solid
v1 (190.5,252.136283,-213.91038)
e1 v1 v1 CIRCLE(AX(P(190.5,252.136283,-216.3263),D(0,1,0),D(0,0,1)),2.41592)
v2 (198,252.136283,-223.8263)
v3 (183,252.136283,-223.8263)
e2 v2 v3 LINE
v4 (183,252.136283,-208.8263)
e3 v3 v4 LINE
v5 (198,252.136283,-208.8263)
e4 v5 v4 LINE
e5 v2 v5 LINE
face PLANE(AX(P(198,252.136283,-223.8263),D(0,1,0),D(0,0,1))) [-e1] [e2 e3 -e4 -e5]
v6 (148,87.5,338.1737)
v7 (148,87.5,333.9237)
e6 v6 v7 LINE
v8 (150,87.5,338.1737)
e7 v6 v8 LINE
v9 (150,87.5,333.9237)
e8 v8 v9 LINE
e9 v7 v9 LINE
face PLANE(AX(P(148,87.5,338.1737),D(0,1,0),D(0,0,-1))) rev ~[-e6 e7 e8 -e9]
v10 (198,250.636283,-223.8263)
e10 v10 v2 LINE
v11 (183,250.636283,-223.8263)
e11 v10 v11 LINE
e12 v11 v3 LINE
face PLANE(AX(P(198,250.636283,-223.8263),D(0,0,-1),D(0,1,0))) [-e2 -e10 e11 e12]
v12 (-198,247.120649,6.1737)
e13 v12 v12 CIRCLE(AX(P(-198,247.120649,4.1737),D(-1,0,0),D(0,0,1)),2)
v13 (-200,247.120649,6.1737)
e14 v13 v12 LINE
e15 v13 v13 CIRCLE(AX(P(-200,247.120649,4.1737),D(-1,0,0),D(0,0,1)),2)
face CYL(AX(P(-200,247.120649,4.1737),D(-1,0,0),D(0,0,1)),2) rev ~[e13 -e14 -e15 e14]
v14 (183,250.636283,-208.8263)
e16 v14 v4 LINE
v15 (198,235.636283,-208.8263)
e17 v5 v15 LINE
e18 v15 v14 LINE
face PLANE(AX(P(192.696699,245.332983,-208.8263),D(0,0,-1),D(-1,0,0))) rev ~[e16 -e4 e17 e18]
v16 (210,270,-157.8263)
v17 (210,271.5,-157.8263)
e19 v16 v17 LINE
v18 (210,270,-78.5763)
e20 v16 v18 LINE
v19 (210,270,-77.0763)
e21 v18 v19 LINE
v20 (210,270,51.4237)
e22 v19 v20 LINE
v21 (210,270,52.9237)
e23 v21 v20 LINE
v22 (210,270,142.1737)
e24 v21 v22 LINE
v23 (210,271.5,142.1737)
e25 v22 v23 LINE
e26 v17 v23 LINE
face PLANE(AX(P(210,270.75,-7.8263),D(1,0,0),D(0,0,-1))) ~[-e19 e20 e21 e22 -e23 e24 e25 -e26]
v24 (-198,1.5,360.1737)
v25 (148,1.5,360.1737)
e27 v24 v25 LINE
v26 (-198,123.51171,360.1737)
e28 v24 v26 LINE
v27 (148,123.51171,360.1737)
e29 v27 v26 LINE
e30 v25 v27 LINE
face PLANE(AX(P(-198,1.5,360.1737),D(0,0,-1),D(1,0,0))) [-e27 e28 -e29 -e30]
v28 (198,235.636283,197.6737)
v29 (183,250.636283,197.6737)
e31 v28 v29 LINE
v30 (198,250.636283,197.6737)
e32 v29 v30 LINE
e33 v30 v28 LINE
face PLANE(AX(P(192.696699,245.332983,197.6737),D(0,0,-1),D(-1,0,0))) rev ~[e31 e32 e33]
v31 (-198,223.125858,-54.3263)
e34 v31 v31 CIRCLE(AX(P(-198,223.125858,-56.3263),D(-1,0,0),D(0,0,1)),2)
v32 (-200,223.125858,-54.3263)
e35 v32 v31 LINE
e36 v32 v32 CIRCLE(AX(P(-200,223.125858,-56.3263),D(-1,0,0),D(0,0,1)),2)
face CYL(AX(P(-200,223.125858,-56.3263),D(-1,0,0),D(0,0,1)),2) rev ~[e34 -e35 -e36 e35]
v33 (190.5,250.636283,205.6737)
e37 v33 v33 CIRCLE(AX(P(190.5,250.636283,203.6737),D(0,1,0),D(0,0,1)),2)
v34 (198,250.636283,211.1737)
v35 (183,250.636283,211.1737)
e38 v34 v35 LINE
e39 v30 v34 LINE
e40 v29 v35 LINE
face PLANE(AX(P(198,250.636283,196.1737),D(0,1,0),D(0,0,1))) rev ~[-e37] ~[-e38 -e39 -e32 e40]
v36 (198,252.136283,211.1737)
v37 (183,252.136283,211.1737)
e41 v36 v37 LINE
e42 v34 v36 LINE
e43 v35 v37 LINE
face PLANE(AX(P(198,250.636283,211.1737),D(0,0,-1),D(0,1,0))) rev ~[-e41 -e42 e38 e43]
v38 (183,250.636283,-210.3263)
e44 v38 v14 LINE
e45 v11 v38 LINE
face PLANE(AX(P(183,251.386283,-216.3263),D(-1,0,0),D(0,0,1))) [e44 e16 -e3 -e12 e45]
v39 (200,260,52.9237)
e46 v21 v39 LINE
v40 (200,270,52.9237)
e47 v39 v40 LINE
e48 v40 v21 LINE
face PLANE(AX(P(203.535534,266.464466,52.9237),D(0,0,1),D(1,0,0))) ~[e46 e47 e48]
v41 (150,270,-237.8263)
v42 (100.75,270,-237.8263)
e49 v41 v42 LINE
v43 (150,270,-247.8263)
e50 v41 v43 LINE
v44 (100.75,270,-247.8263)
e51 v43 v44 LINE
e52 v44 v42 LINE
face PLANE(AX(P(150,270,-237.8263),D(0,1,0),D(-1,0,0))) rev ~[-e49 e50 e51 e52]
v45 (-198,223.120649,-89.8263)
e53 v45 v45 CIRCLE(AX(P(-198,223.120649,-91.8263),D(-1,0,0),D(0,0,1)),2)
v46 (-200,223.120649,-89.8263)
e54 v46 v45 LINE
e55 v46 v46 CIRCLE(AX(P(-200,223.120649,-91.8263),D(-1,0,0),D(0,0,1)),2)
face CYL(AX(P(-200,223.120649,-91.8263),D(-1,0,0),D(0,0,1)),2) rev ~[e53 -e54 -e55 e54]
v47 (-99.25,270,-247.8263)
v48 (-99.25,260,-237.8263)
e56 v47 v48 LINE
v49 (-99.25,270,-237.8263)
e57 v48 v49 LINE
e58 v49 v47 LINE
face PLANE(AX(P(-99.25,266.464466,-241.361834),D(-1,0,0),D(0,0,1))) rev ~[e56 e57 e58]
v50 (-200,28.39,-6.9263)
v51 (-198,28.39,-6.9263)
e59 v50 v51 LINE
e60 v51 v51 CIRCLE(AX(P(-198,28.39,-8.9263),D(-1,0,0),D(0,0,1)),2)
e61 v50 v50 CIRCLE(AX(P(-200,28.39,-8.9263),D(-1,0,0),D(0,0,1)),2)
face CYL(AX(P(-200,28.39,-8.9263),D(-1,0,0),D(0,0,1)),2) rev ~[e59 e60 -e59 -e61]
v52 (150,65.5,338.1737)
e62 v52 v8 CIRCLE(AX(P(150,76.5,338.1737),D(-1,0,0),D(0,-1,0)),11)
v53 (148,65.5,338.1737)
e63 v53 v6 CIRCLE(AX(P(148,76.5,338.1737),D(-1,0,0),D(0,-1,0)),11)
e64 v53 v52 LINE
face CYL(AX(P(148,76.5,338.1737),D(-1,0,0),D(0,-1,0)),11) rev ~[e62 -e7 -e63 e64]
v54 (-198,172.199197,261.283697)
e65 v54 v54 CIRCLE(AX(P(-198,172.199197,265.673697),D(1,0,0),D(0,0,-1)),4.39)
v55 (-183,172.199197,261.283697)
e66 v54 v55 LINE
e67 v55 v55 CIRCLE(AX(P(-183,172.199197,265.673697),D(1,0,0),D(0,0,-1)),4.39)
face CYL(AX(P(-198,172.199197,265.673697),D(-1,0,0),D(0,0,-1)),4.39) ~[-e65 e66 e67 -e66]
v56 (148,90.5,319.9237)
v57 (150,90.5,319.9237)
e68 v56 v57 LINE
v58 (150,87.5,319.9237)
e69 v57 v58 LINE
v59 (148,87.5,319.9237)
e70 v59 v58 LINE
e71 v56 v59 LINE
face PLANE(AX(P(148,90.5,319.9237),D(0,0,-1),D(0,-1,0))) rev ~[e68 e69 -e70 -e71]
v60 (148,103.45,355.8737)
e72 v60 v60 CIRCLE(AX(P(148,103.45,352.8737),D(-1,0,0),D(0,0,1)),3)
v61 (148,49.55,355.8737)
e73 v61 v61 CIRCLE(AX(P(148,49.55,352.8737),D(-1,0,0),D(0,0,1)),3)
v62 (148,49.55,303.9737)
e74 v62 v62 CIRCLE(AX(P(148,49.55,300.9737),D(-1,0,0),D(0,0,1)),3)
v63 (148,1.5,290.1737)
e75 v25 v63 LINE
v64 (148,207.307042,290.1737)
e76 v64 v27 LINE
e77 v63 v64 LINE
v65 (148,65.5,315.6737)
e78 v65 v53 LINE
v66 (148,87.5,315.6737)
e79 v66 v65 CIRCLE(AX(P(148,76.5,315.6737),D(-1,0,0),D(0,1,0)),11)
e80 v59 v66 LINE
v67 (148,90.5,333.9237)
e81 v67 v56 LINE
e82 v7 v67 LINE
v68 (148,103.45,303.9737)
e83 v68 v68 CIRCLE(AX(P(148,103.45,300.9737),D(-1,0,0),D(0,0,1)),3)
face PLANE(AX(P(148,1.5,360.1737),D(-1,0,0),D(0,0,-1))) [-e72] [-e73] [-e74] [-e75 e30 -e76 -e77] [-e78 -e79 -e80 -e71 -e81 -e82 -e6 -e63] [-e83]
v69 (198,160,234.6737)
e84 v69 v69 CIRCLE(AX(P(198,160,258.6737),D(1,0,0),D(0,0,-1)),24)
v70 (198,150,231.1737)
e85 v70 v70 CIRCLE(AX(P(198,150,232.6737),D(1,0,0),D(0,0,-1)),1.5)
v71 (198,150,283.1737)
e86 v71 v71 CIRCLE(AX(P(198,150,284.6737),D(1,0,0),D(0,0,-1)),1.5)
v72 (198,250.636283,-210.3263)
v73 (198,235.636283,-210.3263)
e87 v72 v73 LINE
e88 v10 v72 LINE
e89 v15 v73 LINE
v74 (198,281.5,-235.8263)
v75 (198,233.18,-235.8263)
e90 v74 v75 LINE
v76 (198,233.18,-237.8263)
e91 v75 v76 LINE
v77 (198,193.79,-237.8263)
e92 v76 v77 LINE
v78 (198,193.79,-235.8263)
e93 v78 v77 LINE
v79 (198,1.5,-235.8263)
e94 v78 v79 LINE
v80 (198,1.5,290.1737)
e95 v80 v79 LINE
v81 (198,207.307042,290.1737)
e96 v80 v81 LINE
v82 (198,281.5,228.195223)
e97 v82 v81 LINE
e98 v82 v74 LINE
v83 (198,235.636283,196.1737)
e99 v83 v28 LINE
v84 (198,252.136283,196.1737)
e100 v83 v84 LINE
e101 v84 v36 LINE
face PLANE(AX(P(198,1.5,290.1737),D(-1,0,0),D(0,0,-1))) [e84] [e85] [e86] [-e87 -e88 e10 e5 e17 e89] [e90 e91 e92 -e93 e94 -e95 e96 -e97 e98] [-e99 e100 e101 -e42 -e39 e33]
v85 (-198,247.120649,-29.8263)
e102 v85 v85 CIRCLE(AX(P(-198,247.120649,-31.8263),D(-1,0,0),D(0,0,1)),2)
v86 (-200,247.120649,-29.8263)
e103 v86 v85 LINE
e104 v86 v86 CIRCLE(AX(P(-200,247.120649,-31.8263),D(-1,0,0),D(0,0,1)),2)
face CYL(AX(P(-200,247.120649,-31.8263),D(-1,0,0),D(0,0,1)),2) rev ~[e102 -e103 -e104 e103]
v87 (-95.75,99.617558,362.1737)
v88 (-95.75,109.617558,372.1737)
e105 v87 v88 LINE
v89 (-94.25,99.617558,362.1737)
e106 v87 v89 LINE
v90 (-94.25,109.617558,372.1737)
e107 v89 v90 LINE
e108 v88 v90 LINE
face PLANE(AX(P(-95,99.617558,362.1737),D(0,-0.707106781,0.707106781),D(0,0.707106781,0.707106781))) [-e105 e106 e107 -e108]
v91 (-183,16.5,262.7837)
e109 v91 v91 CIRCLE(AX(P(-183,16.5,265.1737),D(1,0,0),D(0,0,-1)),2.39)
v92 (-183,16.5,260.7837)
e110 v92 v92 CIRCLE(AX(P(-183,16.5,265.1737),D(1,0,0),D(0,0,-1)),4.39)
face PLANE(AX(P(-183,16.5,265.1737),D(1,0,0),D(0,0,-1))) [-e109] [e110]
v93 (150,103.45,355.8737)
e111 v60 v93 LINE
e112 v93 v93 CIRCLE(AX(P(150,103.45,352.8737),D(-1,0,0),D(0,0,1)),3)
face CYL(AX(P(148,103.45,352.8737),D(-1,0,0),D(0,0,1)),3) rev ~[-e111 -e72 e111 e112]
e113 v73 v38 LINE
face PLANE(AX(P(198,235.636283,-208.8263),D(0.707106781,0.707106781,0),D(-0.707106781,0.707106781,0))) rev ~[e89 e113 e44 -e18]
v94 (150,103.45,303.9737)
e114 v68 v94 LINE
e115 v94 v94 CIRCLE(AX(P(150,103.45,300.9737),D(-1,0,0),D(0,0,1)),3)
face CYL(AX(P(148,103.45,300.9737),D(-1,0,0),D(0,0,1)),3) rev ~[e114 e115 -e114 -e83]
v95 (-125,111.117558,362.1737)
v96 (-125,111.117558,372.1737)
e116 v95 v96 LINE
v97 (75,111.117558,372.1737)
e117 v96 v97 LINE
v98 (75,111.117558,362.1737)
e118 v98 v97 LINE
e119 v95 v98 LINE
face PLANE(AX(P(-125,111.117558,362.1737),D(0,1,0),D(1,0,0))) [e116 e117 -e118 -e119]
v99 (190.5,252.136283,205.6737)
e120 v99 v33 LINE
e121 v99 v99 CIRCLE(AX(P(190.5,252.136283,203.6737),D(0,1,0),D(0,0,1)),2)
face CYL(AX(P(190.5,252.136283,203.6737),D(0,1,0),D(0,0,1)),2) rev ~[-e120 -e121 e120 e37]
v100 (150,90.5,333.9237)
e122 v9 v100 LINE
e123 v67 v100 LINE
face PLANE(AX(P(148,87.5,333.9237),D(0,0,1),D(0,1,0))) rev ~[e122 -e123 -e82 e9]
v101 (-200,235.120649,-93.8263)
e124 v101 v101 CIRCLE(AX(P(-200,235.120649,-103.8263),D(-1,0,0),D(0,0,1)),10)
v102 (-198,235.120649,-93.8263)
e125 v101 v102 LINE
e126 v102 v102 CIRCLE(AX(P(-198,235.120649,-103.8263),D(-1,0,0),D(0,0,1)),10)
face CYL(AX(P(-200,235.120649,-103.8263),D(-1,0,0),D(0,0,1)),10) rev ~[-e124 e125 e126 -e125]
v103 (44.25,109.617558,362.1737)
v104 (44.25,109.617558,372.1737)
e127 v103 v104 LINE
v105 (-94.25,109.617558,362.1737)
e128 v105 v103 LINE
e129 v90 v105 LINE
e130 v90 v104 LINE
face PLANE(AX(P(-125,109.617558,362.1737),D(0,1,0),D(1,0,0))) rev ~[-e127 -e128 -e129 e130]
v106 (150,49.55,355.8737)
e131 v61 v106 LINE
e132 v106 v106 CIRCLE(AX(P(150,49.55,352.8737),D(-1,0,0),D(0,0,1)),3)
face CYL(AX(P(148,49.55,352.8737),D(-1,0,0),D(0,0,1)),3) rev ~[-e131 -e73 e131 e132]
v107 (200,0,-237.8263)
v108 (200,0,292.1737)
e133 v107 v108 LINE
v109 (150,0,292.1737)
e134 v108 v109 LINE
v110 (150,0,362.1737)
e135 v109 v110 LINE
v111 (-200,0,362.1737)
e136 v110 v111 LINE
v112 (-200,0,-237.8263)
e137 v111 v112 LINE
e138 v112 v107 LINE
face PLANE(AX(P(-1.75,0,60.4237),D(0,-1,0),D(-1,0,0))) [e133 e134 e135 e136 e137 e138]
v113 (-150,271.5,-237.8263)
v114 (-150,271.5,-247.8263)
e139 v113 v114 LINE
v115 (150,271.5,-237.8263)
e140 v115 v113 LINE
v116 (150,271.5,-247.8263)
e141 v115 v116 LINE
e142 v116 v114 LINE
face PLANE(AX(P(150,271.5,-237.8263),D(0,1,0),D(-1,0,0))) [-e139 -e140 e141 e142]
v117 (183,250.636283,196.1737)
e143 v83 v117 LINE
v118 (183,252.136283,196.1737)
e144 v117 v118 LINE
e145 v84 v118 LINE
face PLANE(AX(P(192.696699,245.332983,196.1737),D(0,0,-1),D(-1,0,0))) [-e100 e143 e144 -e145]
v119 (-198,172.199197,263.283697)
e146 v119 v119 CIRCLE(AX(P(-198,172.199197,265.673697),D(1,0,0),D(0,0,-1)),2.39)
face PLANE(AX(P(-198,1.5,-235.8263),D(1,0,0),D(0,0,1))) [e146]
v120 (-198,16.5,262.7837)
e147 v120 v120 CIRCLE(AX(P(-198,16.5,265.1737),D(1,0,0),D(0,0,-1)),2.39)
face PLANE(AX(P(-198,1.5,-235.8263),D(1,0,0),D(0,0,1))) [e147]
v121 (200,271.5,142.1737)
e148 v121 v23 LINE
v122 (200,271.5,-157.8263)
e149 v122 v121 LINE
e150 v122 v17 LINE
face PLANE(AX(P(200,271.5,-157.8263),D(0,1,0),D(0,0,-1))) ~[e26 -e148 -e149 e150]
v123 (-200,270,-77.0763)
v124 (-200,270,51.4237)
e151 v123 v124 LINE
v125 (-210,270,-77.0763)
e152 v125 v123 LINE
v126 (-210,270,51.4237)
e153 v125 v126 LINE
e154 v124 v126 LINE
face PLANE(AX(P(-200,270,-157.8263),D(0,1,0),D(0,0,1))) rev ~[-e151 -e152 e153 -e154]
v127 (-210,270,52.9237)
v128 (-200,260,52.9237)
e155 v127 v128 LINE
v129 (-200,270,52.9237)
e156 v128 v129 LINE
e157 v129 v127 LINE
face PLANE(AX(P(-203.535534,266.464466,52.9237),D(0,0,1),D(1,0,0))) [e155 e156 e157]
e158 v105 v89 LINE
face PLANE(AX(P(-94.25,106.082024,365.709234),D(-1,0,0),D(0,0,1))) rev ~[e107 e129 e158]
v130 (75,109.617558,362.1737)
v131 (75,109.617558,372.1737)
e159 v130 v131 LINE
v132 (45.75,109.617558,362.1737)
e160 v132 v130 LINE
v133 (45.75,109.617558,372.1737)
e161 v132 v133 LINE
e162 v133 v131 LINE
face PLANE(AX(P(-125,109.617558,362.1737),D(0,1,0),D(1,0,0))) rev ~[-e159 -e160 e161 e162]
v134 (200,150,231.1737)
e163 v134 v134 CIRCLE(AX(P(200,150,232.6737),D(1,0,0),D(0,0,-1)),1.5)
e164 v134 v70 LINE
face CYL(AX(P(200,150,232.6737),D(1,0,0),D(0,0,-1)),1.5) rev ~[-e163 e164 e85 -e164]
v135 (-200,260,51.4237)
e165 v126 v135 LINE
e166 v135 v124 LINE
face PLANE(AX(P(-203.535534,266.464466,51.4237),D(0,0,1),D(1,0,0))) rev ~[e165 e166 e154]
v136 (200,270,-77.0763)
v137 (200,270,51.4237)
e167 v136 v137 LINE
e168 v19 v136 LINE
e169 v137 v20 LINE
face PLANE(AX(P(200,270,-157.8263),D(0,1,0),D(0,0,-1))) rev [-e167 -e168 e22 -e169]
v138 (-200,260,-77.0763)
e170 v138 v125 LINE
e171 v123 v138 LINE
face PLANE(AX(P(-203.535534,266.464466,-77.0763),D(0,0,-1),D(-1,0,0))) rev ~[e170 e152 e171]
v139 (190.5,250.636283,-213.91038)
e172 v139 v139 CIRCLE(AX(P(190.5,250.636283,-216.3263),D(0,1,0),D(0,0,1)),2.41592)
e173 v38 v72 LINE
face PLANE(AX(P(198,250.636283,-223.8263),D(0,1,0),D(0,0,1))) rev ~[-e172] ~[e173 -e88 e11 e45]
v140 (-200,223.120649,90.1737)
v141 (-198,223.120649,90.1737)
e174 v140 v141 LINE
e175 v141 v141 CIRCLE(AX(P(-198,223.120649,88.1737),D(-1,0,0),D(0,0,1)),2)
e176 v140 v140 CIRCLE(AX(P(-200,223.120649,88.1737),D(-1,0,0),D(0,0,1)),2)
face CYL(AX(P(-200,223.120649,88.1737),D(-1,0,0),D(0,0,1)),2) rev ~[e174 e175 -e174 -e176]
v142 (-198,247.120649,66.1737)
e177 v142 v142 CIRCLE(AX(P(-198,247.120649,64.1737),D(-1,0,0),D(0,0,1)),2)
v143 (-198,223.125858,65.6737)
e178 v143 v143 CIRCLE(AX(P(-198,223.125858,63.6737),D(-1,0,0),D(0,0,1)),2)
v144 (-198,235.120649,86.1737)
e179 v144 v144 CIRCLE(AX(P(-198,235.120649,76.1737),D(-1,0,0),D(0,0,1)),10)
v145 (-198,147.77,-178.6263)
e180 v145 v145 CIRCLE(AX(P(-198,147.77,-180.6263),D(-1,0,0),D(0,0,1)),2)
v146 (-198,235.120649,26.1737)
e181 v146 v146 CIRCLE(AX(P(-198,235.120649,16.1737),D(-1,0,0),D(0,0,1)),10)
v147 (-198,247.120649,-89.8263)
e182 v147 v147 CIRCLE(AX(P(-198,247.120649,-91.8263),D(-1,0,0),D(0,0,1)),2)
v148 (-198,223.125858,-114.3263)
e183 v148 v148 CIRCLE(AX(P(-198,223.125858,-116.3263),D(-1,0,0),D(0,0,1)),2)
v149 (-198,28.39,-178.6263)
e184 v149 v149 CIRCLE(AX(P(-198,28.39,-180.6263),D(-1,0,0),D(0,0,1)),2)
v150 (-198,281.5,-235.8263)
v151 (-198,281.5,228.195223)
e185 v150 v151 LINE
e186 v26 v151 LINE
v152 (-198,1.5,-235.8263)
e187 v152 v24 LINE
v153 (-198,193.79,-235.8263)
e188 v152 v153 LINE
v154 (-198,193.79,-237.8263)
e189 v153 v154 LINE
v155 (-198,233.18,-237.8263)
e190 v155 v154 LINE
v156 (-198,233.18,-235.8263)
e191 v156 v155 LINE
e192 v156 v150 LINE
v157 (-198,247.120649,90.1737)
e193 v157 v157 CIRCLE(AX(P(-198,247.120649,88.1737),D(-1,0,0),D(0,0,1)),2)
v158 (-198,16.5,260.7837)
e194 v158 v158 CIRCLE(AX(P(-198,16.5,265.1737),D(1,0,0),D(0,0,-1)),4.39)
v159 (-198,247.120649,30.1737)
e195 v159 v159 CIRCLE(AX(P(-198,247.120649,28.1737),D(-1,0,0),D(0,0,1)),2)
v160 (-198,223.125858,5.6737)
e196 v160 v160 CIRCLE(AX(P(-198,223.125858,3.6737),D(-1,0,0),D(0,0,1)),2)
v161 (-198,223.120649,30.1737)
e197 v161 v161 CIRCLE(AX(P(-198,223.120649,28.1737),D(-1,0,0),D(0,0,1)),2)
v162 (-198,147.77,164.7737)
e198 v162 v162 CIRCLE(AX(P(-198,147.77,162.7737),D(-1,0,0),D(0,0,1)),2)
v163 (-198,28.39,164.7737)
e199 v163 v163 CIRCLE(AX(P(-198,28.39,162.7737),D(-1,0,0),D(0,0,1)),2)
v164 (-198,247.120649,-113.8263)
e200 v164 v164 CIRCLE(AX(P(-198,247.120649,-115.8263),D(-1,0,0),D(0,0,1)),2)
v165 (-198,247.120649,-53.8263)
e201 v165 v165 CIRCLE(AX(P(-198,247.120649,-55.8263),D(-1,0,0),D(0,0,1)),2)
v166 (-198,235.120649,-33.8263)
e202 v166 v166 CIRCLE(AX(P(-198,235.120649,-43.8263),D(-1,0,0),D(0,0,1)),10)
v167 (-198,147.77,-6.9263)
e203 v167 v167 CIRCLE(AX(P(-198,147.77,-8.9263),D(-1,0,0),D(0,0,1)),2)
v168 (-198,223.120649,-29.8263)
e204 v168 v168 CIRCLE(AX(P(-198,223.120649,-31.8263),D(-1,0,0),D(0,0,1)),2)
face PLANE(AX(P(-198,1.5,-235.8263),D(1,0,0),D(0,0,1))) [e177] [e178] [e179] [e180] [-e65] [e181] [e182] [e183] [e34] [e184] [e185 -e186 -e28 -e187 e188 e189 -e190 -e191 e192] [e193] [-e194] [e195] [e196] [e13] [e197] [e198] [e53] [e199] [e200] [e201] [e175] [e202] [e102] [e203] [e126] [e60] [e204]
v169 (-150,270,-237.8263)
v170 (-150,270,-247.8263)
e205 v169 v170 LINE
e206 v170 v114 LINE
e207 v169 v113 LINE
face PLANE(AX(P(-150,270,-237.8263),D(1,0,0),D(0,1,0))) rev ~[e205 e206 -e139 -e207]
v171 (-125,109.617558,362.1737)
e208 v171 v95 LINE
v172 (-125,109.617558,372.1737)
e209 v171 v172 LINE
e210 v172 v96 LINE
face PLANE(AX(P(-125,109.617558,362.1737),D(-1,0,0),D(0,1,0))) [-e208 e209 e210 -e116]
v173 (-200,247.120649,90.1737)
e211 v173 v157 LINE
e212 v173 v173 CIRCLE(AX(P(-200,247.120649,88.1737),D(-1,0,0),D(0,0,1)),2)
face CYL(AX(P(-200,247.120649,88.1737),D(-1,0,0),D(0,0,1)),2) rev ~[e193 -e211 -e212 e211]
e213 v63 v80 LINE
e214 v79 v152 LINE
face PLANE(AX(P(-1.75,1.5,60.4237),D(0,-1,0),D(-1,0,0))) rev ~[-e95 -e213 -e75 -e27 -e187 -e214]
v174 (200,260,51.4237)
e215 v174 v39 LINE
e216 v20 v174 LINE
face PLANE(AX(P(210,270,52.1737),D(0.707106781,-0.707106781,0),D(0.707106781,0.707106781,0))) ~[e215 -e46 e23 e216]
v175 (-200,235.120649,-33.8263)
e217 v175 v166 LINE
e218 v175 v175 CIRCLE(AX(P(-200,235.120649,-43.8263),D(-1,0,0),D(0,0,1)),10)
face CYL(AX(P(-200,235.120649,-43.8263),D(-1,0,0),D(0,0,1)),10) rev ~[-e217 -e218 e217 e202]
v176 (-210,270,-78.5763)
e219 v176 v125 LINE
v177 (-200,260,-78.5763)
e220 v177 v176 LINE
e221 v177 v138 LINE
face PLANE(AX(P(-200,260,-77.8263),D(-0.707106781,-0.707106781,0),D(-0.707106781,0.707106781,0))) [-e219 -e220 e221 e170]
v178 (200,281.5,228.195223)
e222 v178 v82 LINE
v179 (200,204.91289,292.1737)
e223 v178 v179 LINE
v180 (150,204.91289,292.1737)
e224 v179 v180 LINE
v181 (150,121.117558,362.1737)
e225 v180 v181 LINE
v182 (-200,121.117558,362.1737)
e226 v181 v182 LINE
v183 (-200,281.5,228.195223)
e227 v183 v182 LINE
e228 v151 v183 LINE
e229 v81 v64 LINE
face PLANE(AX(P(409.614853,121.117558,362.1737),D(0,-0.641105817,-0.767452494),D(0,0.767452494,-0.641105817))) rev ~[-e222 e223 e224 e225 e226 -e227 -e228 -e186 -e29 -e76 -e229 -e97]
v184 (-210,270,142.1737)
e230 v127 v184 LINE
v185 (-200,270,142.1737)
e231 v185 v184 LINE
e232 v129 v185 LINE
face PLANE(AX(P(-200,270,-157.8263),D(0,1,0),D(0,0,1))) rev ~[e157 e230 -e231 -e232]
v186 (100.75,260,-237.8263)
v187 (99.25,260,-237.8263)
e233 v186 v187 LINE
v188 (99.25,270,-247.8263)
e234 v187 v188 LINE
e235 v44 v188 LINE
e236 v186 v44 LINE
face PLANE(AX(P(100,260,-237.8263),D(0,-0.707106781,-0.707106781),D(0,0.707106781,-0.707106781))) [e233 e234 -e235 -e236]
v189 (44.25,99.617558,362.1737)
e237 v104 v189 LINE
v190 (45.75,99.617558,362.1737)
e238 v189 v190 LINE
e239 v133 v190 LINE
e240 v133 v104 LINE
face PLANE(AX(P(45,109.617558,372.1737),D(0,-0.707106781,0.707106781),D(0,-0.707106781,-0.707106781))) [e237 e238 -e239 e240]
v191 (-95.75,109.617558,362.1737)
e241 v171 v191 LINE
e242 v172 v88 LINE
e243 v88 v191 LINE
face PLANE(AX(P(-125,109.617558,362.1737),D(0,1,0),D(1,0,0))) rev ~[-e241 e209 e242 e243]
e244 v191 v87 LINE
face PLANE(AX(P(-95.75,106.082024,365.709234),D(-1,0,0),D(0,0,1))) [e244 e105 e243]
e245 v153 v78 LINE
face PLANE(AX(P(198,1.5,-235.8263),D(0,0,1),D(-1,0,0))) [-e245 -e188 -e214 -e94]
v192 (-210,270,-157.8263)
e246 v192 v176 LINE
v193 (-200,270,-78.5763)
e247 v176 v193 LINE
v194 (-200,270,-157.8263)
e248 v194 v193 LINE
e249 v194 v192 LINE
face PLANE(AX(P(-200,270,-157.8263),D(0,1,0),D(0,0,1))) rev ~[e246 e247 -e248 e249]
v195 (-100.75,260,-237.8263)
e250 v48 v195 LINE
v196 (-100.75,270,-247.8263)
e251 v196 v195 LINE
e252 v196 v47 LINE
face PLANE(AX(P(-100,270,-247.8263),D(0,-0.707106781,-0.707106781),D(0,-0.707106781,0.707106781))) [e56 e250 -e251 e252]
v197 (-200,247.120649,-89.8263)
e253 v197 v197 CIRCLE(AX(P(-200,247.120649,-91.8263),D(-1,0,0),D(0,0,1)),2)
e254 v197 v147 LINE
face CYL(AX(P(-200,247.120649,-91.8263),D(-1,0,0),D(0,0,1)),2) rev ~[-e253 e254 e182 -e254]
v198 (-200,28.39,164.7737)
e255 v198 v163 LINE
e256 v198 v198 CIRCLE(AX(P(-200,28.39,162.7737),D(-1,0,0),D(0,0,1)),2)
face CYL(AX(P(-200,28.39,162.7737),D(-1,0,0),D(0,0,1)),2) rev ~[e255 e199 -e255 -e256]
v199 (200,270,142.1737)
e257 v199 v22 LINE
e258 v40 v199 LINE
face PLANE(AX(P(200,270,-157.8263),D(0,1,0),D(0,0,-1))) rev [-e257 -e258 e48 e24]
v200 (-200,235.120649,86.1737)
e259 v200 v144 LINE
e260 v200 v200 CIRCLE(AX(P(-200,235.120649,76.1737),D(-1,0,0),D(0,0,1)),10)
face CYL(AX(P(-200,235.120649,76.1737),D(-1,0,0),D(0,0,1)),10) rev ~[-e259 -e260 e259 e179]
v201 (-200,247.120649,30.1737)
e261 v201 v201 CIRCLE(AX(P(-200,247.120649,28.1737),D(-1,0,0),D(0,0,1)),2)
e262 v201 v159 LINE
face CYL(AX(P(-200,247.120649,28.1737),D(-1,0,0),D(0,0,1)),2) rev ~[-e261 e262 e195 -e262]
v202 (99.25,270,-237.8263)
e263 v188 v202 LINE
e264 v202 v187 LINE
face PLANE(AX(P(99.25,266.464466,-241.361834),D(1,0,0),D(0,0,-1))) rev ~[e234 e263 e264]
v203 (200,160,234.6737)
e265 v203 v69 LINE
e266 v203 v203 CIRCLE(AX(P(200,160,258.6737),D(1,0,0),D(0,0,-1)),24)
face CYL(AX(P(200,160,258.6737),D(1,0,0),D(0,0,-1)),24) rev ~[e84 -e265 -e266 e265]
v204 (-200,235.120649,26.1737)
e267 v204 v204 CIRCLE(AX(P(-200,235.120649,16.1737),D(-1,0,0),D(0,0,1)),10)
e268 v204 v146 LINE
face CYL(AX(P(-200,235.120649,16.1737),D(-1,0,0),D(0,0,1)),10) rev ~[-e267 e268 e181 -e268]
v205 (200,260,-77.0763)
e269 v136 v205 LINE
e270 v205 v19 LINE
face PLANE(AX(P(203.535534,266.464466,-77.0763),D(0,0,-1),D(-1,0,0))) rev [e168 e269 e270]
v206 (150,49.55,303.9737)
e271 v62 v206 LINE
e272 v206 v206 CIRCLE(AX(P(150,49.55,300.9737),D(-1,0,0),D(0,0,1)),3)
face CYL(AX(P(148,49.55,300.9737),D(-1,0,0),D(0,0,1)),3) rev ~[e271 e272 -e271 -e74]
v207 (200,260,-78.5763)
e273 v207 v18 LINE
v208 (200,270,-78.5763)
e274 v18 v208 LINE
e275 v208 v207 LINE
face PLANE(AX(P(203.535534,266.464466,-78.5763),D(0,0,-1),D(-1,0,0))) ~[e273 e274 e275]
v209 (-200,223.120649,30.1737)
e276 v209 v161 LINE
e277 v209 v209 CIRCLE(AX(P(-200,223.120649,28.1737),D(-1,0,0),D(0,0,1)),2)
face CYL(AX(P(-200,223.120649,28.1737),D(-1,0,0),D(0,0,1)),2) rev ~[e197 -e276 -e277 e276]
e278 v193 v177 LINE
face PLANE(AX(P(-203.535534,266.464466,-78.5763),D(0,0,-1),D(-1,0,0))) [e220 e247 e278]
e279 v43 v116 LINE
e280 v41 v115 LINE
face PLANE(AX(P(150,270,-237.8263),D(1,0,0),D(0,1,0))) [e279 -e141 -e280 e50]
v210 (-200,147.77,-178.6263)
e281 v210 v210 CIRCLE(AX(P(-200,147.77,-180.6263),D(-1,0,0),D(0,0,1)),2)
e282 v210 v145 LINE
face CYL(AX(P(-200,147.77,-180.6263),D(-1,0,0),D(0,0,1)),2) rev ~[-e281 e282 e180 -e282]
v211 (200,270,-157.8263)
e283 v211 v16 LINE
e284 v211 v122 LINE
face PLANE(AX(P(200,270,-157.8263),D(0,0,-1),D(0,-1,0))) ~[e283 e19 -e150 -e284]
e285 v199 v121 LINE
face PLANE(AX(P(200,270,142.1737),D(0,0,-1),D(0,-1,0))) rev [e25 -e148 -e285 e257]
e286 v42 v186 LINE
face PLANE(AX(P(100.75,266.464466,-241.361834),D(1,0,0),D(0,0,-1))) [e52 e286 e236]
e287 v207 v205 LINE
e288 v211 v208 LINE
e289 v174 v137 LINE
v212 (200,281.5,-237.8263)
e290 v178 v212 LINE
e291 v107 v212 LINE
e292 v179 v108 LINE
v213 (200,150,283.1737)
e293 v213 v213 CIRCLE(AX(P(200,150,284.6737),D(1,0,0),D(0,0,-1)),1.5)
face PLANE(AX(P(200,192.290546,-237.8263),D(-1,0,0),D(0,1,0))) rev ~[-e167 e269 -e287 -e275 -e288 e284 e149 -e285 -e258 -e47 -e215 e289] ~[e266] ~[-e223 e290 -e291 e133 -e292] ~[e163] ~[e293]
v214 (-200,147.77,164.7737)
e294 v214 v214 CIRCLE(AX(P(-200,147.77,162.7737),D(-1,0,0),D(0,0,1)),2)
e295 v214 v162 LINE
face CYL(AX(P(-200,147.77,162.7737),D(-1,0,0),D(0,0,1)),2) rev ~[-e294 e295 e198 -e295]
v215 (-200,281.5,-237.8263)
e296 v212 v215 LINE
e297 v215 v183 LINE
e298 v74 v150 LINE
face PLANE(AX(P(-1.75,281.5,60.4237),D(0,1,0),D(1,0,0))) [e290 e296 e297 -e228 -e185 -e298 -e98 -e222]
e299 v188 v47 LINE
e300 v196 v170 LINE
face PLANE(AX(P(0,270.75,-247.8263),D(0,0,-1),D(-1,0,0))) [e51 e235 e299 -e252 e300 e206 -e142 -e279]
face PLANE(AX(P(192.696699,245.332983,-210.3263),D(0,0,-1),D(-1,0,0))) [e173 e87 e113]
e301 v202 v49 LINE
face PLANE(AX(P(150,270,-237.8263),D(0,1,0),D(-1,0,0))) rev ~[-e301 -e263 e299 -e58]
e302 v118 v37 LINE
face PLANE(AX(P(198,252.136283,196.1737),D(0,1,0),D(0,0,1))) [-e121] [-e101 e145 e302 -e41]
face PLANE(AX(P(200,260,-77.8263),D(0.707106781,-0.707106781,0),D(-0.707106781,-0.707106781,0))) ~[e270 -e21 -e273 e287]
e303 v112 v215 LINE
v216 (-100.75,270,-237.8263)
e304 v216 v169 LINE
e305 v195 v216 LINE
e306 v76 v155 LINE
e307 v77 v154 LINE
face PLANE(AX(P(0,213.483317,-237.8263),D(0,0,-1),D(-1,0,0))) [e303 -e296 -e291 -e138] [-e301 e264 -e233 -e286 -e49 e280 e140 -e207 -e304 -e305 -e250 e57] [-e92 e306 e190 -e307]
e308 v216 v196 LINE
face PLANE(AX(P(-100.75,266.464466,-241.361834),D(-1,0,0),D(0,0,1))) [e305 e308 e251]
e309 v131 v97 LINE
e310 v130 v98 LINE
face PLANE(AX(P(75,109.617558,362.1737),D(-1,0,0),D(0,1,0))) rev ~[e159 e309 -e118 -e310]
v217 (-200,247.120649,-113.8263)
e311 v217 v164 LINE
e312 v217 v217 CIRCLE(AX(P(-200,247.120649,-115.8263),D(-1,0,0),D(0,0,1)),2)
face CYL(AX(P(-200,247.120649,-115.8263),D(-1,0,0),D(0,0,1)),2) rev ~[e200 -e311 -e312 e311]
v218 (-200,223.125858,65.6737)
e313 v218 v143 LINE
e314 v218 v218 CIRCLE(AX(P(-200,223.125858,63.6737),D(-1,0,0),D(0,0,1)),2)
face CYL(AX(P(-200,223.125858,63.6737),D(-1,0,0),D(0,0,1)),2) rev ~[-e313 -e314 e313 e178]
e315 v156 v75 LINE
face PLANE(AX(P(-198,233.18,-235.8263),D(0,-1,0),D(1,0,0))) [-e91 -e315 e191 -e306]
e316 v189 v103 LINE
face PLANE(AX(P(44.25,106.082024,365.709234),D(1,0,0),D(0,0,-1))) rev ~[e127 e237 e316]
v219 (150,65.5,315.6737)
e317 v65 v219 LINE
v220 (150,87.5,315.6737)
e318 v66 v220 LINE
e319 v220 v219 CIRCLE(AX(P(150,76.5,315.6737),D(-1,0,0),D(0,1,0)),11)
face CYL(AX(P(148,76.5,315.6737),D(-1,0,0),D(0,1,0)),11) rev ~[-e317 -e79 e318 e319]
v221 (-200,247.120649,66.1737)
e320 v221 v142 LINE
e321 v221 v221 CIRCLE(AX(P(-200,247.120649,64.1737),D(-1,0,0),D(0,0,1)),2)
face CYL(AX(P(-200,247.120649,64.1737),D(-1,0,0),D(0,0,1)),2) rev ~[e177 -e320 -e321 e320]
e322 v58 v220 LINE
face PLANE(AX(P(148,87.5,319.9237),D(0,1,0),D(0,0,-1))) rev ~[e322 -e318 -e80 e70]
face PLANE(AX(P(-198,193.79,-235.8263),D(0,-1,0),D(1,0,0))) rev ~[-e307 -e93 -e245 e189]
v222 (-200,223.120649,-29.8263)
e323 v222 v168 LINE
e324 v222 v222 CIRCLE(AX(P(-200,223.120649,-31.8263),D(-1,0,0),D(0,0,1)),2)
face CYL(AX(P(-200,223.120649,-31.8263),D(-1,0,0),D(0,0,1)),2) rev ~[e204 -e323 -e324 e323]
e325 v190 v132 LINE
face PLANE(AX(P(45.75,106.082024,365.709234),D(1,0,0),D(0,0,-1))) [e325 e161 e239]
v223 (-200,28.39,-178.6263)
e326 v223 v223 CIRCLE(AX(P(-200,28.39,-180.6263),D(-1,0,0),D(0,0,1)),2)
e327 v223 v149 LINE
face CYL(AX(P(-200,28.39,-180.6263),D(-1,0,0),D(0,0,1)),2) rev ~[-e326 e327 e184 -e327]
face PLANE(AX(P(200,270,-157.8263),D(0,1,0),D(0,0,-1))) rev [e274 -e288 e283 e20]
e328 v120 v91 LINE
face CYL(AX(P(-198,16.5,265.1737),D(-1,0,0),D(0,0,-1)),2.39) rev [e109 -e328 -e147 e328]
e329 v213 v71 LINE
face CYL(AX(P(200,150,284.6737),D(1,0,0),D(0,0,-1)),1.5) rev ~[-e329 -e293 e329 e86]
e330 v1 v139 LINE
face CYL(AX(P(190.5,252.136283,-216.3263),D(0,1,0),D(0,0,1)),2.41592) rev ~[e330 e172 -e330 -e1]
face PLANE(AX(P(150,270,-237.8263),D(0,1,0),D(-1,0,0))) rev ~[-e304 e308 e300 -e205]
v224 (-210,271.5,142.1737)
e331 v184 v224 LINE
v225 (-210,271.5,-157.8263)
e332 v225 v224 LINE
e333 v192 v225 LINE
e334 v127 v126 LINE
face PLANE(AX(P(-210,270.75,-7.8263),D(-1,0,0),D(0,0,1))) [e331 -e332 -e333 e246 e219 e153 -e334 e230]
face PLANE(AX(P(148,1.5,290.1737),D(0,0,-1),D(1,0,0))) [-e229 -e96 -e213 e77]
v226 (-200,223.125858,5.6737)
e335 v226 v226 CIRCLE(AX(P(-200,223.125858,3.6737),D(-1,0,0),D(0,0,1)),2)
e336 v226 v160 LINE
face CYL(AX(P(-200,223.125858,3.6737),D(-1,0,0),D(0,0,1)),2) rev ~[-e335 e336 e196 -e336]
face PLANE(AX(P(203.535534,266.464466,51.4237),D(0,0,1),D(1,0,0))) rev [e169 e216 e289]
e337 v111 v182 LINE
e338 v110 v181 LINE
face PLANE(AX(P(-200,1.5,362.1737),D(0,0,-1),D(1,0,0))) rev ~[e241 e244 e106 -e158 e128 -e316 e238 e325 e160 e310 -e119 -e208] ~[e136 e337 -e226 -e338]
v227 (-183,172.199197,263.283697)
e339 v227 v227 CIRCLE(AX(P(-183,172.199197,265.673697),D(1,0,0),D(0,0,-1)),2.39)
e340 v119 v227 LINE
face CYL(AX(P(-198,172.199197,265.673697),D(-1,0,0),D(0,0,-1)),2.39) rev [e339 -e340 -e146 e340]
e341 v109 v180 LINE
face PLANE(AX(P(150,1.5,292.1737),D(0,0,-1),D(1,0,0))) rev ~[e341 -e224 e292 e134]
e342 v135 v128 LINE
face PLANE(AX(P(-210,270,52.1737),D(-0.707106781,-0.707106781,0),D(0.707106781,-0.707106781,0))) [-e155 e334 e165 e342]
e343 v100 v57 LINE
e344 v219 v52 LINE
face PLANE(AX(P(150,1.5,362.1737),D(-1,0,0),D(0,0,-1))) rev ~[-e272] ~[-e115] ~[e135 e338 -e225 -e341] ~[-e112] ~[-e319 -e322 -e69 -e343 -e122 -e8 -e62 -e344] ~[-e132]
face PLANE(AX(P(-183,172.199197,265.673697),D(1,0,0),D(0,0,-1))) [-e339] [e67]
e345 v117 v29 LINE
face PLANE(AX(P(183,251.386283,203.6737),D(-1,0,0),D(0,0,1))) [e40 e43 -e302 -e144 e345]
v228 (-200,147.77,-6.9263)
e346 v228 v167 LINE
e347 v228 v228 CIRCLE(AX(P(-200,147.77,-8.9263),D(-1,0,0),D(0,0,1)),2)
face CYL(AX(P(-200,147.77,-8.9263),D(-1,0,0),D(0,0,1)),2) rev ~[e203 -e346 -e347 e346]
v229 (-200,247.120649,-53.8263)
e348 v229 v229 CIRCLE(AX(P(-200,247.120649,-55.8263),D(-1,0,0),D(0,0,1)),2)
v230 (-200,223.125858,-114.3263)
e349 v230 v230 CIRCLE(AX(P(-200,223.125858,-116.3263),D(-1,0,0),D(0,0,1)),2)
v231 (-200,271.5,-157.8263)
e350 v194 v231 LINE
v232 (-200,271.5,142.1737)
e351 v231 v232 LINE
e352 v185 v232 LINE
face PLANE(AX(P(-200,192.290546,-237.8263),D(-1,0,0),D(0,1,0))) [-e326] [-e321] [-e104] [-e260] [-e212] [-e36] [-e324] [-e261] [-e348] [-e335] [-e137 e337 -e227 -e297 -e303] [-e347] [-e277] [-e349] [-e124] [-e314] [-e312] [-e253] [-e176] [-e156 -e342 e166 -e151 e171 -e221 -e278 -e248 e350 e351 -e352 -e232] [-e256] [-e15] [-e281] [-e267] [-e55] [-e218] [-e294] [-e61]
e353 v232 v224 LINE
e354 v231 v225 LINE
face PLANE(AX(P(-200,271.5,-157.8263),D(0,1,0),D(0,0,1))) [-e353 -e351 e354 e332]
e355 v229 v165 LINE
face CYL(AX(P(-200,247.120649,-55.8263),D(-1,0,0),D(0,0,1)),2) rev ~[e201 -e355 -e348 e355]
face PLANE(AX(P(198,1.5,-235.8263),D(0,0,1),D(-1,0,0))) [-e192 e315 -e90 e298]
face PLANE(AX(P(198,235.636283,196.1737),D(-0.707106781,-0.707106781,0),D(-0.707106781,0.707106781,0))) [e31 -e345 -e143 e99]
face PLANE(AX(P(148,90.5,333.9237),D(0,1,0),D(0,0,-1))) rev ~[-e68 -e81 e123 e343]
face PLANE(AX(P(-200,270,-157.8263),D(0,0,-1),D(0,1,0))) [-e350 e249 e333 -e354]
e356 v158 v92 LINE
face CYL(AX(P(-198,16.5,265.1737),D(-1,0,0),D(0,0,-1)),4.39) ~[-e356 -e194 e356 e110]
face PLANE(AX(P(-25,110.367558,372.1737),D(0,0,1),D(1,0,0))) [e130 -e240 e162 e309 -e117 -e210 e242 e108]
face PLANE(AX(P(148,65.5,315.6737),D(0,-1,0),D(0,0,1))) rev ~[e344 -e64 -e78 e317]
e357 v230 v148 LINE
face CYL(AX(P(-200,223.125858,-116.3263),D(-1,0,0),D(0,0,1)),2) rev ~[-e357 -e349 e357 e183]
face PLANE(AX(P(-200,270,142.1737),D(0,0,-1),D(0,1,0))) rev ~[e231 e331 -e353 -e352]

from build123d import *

# Parameters (mm, degrees)
BOSS_EXTRUDE1_DEPTH     = 1.5
BOSS_EXTRUDE2_DEPTH     = 280
SKETCH4_W               = 400
SKETCH4_H               = 42.385541564
BOSS_EXTRUDE3_DEPTH     = 2
CUT_EXTRUDE1_DEPTH      = 609.61485268
CUT_EXTRUDE1_DEPTH_BACK = 609.61485268
SKETCH8_R               = 4.39
SKETCH8_R_2             = 2.39
BOSS_EXTRUDE5_DEPTH     = 15
SKETCH10_R              = 3
CUT_EXTRUDE2_DEPTH      = 2
SKETCH15_W              = 15
SKETCH15_H              = 1.5
BOSS_EXTRUDE6_DEPTH     = 15
BOSS_EXTRUDE7_DEPTH     = 1.5
BOSS_EXTRUDE8_DEPTH     = 1.5
SKETCH20_R              = 2.415919743
SKETCH20_R_2            = 2
CUT_EXTRUDE5_DEPTH      = 1.5
SKETCH5_R               = 2
SKETCH5_R_2             = 10
CUT_EXTRUDE7_DEPTH      = 2
SKETCH21_W              = 300
SKETCH21_H              = 1.5
BOSS_EXTRUDE9_DEPTH     = 10
SKETCH22_W              = 300
SKETCH22_H              = 1.5
BOSS_EXTRUDE10_DEPTH    = 10
BOSS_EXTRUDE11_DEPTH    = 0.75
BOSS_EXTRUDE12_DEPTH    = 0.75
BOSS_EXTRUDE13_DEPTH    = 0.75
BOSS_EXTRUDE14_DEPTH    = 0.75
SKETCH27_W              = 200
SKETCH27_H              = 1.5
BOSS_EXTRUDE15_DEPTH    = 10
BOSS_EXTRUDE16_DEPTH    = 0.75
BOSS_EXTRUDE17_DEPTH    = 0.75
SKETCH30_R              = 24
SKETCH30_R_2            = 1.5
CUT_EXTRUDE8_DEPTH      = 2
SKETCH33_R              = 2
CUT_EXTRUDE9_DEPTH      = 2
SKETCH42_W              = 396
SKETCH42_H              = 39.39
CUT_EXTRUDE13_DEPTH     = 40


with BuildPart() as part:
    # Sketch1 → Boss-Extrude1 (new body)
    with BuildSketch(Plane(origin=(0, 0, 0), x_dir=(1, 0, 0), z_dir=(0, 1, 0))):
        Polygon((-200, 237.826300096), (200, 237.826300096), (200, -292.173699904), (150, -292.173699904), (150, -362.173699904), (-200, -362.173699904), align=None)
    extrude(amount=BOSS_EXTRUDE1_DEPTH)

    # Sketch2 → Boss-Extrude2 (add)
    with BuildSketch(Plane(origin=(0, 1.5, 0), x_dir=(1, 0, 0), z_dir=(0, 1, 0))):
        Polygon((-200, 237.826300096), (-200, -362.173699904), (150, -362.173699904), (150, -292.173699904), (200, -292.173699904), (200, 237.826300096), align=None)
        Polygon((-198, 235.826300096), (-198, -360.173699904), (148, -360.173699904), (148, -290.173699904), (198, -290.173699904), (198, 235.826300096), align=None, mode=Mode.SUBTRACT)
    extrude(amount=BOSS_EXTRUDE2_DEPTH)

    # Sketch4 → Boss-Extrude3 (add)
    with BuildSketch(Plane(origin=(0, 0, -237.826300096), x_dir=(-1, 0, 0), z_dir=(0, 0, -1))):
        with Locations((0, 213.483316708)):
            Rectangle(SKETCH4_W, SKETCH4_H)
    extrude(amount=-BOSS_EXTRUDE3_DEPTH)

    # Sketch3 → Cut-Extrude1 (cut, two sides: drawn at the far end of the back side and taken through both)
    with BuildSketch(Plane.ZY.offset(200).offset(-CUT_EXTRUDE1_DEPTH_BACK)):
        Polygon((362.173699904, 121.117558148), (228.195222706, 281.5), (362.173699904, 281.5), align=None)
    extrude(amount=CUT_EXTRUDE1_DEPTH + CUT_EXTRUDE1_DEPTH_BACK, mode=Mode.SUBTRACT)

    # Sketch8 → Boss-Extrude5 (add)
    # profile 1 of 2: a face of its own
    with BuildSketch(Plane(origin=(-198, 0, 0), x_dir=(0, 0, -1), z_dir=(1, 0, 0))):
        with Locations((-265.673697326, 172.19919718)):
            Circle(SKETCH8_R)
        with Locations((-265.673697326, 172.19919718)):
            Circle(SKETCH8_R_2, mode=Mode.SUBTRACT)
    # profile 2 of 2: a face of its own
    with BuildSketch(Plane(origin=(-198, 0, 0), x_dir=(0, 0, -1), z_dir=(1, 0, 0))):
        with Locations((-265.173699904, 16.5)):
            Circle(SKETCH8_R)
        with Locations((-265.173699904, 16.5)):
            Circle(SKETCH8_R_2, mode=Mode.SUBTRACT)
    extrude(amount=BOSS_EXTRUDE5_DEPTH)

    # Sketch10 → Cut-Extrude2 (cut)
    with BuildSketch(Plane.ZY.offset(-148)):
        with BuildLine():
            Line((333.923699904, 90.5), (319.923699904, 90.5))
            Line((319.923699904, 90.5), (319.923699904, 87.5))
            Line((319.923699904, 87.5), (315.673699904, 87.5))
            ThreePointArc((315.673699904, 87.5), (304.673699904, 76.5), (315.673699904, 65.5))
            Line((315.673699904, 65.5), (338.173699904, 65.5))
            ThreePointArc((338.173699904, 65.5), (349.173699904, 76.5), (338.173699904, 87.5))
            Line((338.173699904, 87.5), (333.923699904, 87.5))
            Line((333.923699904, 87.5), (333.923699904, 90.5))
        make_face()
        with Locations((300.973699904, 103.45)):
            Circle(SKETCH10_R)
        with Locations((352.873699904, 103.45)):
            Circle(SKETCH10_R)
        with Locations((300.973699904, 49.55)):
            Circle(SKETCH10_R)
        with Locations((352.873699904, 49.55)):
            Circle(SKETCH10_R)
    extrude(amount=-CUT_EXTRUDE2_DEPTH, mode=Mode.SUBTRACT)

    # Sketch15 → Boss-Extrude6 (add)
    with BuildSketch(Plane.ZY.offset(-198)):
        with Locations((-216.326300096, 251.386283415)):
            Rectangle(SKETCH15_W, SKETCH15_H)
        with Locations((203.673699904, 251.386283415)):
            Rectangle(SKETCH15_W, SKETCH15_H)
    extrude(amount=BOSS_EXTRUDE6_DEPTH)

    # Sketch17 → Boss-Extrude7 (add)
    with BuildSketch(Plane.XY.offset(-208.826300096)):
        Polygon((198, 250.636283415), (198, 235.636283415), (183, 250.636283415), align=None)
    extrude(amount=-BOSS_EXTRUDE7_DEPTH)

    # Sketch18 → Boss-Extrude8 (add)
    with BuildSketch(Plane.XY.offset(196.173699904)):
        Polygon((198, 250.636283415), (198, 235.636283415), (183, 250.636283415), align=None)
    extrude(amount=BOSS_EXTRUDE8_DEPTH)

    # Sketch20 → Cut-Extrude5 (cut)
    with BuildSketch(Plane(origin=(0, 252.136283415, 0), x_dir=(1, 0, 0), z_dir=(0, 1, 0))):
        with Locations(Location((190.5, 216.326300096, 0), (0, 0, 270))):
            Circle(SKETCH20_R)
        with Locations(Location((190.5, -203.673699904, 0), (0, 0, 270))):
            Circle(SKETCH20_R_2)
    extrude(amount=-CUT_EXTRUDE5_DEPTH, mode=Mode.SUBTRACT)

    # Sketch5 → Cut-Extrude7 (cut)
    with BuildSketch(Plane.ZY.offset(200)):
        with Locations((-115.826300096, 247.120648807)):
            Circle(SKETCH5_R)
        with Locations((-116.326300096, 223.125857706)):
            Circle(SKETCH5_R)
        with Locations((-91.826300096, 223.120648807)):
            Circle(SKETCH5_R)
        with Locations((-91.826300096, 247.120648807)):
            Circle(SKETCH5_R)
        with Locations((-103.826300096, 235.120648807)):
            Circle(SKETCH5_R_2)
        with Locations((-55.826300096, 247.120648807)):
            Circle(SKETCH5_R)
        with Locations((-56.326300096, 223.125857706)):
            Circle(SKETCH5_R)
        with Locations((-31.826300096, 223.120648807)):
            Circle(SKETCH5_R)
        with Locations((-31.826300096, 247.120648807)):
            Circle(SKETCH5_R)
        with Locations((-43.826300096, 235.120648807)):
            Circle(SKETCH5_R_2)
        with Locations((4.173699904, 247.120648807)):
            Circle(SKETCH5_R)
        with Locations((3.673699904, 223.125857706)):
            Circle(SKETCH5_R)
        with Locations((28.173699904, 223.120648807)):
            Circle(SKETCH5_R)
        with Locations((28.173699904, 247.120648807)):
            Circle(SKETCH5_R)
        with Locations((16.173699904, 235.120648807)):
            Circle(SKETCH5_R_2)
        with Locations((64.173699904, 247.120648807)):
            Circle(SKETCH5_R)
        with Locations((63.673699904, 223.125857706)):
            Circle(SKETCH5_R)
        with Locations((88.173699904, 223.120648807)):
            Circle(SKETCH5_R)
        with Locations((88.173699904, 247.120648807)):
            Circle(SKETCH5_R)
        with Locations((76.173699904, 235.120648807)):
            Circle(SKETCH5_R_2)
    extrude(amount=-CUT_EXTRUDE7_DEPTH, mode=Mode.SUBTRACT)

    # Sketch21 → Boss-Extrude9 (add)
    with BuildSketch(Plane(origin=(0, 0, -237.826300096), x_dir=(-1, 0, 0), z_dir=(0, 0, -1))):
        with Locations((0, 270.75)):
            Rectangle(SKETCH21_W, SKETCH21_H)
    extrude(amount=BOSS_EXTRUDE9_DEPTH)

    # Sketch22 → Boss-Extrude10 (add)
    with BuildSketch(Plane.ZY.offset(200)):
        with Locations((-7.826300096, 270.75)):
            Rectangle(SKETCH22_W, SKETCH22_H)
    boss_extrude10 = extrude(amount=BOSS_EXTRUDE10_DEPTH)

    # Sketch23 → Boss-Extrude11 (add, symmetric)
    with BuildSketch(Plane(origin=(0, 0, -77.826300096), x_dir=(-1, 0, 0), z_dir=(0, 0, -1))):
        Polygon((210, 270), (200, 270), (200, 260), align=None)
    boss_extrude11 = extrude(amount=BOSS_EXTRUDE11_DEPTH, both=True)

    # Sketch24 → Boss-Extrude12 (add, symmetric)
    with BuildSketch(Plane.XY.offset(52.173699904)):
        Polygon((-210, 270), (-200, 260), (-200, 270), align=None)
    boss_extrude12 = extrude(amount=BOSS_EXTRUDE12_DEPTH, both=True)

    # Sketch25 → Boss-Extrude13 (add, symmetric)
    with BuildSketch(Plane(origin=(100, 0, 0), x_dir=(0, 0, -1), z_dir=(1, 0, 0))):
        Polygon((247.826300096, 270), (237.826300096, 270), (237.826300096, 260), align=None)
    extrude(amount=BOSS_EXTRUDE13_DEPTH, both=True)

    # Sketch26 → Boss-Extrude14 (add, symmetric)
    with BuildSketch(Plane.ZY.offset(100)):
        Polygon((-247.826300096, 270), (-237.826300096, 260), (-237.826300096, 270), align=None)
    extrude(amount=BOSS_EXTRUDE14_DEPTH, both=True)

    # Mirror1: Boss-Extrude10, Boss-Extrude11, Boss-Extrude12 across plane
    add(boss_extrude10.mirror(Plane(origin=(0, 0, 0), x_dir=(0, 0, 1), z_dir=(1, 0, 0))))
    add(boss_extrude11.mirror(Plane(origin=(0, 0, 0), x_dir=(0, 0, 1), z_dir=(1, 0, 0))))
    add(boss_extrude12.mirror(Plane(origin=(0, 0, 0), x_dir=(0, 0, 1), z_dir=(1, 0, 0))))

    # Sketch27 → Boss-Extrude15 (add)
    with BuildSketch(Plane.XY.offset(362.173699904)):
        with Locations((-25, 110.367558148)):
            Rectangle(SKETCH27_W, SKETCH27_H)
    extrude(amount=BOSS_EXTRUDE15_DEPTH)

    # Sketch28 → Boss-Extrude16 (add, symmetric)
    with BuildSketch(Plane.ZY.offset(95)):
        Polygon((372.173699904, 109.617558148), (362.173699904, 109.617558148), (362.173699904, 99.617558148), align=None)
    extrude(amount=BOSS_EXTRUDE16_DEPTH, both=True)

    # Sketch29 → Boss-Extrude17 (add, symmetric)
    with BuildSketch(Plane(origin=(45, 0, 0), x_dir=(0, 0, -1), z_dir=(1, 0, 0))):
        Polygon((-372.173699904, 109.617558148), (-362.173699904, 99.617558148), (-362.173699904, 109.617558148), align=None)
    extrude(amount=BOSS_EXTRUDE17_DEPTH, both=True)

    # Sketch30 → Cut-Extrude8 (cut)
    with BuildSketch(Plane(origin=(200, 0, 0), x_dir=(0, 0, -1), z_dir=(1, 0, 0))):
        with Locations((-258.673699904, 160)):
            Circle(SKETCH30_R)
        with Locations((-284.673699904, 150)):
            Circle(SKETCH30_R_2)
        with Locations((-232.673699904, 150)):
            Circle(SKETCH30_R_2)
    extrude(amount=-CUT_EXTRUDE8_DEPTH, mode=Mode.SUBTRACT)

    # Sketch33 → Cut-Extrude9 (cut)
    with BuildSketch(Plane.ZY.offset(200)):
        with Locations((-180.626300096, 147.77)):
            Circle(SKETCH33_R)
        with Locations((-180.626300096, 28.39)):
            Circle(SKETCH33_R)
        with Locations((-8.926300096, 147.77)):
            Circle(SKETCH33_R)
        with Locations((-8.926300096, 28.39)):
            Circle(SKETCH33_R)
        with Locations((162.773699904, 147.77)):
            Circle(SKETCH33_R)
        with Locations((162.773699904, 28.39)):
            Circle(SKETCH33_R)
    extrude(amount=-CUT_EXTRUDE9_DEPTH, mode=Mode.SUBTRACT)

    # Sketch42 → Cut-Extrude13 (cut)
    with BuildSketch(Plane.XY.offset(-235.826300096)):
        with Locations((0, 213.485)):
            Rectangle(SKETCH42_W, SKETCH42_H)
    extrude(amount=-CUT_EXTRUDE13_DEPTH, mode=Mode.SUBTRACT)


solid = part.part
